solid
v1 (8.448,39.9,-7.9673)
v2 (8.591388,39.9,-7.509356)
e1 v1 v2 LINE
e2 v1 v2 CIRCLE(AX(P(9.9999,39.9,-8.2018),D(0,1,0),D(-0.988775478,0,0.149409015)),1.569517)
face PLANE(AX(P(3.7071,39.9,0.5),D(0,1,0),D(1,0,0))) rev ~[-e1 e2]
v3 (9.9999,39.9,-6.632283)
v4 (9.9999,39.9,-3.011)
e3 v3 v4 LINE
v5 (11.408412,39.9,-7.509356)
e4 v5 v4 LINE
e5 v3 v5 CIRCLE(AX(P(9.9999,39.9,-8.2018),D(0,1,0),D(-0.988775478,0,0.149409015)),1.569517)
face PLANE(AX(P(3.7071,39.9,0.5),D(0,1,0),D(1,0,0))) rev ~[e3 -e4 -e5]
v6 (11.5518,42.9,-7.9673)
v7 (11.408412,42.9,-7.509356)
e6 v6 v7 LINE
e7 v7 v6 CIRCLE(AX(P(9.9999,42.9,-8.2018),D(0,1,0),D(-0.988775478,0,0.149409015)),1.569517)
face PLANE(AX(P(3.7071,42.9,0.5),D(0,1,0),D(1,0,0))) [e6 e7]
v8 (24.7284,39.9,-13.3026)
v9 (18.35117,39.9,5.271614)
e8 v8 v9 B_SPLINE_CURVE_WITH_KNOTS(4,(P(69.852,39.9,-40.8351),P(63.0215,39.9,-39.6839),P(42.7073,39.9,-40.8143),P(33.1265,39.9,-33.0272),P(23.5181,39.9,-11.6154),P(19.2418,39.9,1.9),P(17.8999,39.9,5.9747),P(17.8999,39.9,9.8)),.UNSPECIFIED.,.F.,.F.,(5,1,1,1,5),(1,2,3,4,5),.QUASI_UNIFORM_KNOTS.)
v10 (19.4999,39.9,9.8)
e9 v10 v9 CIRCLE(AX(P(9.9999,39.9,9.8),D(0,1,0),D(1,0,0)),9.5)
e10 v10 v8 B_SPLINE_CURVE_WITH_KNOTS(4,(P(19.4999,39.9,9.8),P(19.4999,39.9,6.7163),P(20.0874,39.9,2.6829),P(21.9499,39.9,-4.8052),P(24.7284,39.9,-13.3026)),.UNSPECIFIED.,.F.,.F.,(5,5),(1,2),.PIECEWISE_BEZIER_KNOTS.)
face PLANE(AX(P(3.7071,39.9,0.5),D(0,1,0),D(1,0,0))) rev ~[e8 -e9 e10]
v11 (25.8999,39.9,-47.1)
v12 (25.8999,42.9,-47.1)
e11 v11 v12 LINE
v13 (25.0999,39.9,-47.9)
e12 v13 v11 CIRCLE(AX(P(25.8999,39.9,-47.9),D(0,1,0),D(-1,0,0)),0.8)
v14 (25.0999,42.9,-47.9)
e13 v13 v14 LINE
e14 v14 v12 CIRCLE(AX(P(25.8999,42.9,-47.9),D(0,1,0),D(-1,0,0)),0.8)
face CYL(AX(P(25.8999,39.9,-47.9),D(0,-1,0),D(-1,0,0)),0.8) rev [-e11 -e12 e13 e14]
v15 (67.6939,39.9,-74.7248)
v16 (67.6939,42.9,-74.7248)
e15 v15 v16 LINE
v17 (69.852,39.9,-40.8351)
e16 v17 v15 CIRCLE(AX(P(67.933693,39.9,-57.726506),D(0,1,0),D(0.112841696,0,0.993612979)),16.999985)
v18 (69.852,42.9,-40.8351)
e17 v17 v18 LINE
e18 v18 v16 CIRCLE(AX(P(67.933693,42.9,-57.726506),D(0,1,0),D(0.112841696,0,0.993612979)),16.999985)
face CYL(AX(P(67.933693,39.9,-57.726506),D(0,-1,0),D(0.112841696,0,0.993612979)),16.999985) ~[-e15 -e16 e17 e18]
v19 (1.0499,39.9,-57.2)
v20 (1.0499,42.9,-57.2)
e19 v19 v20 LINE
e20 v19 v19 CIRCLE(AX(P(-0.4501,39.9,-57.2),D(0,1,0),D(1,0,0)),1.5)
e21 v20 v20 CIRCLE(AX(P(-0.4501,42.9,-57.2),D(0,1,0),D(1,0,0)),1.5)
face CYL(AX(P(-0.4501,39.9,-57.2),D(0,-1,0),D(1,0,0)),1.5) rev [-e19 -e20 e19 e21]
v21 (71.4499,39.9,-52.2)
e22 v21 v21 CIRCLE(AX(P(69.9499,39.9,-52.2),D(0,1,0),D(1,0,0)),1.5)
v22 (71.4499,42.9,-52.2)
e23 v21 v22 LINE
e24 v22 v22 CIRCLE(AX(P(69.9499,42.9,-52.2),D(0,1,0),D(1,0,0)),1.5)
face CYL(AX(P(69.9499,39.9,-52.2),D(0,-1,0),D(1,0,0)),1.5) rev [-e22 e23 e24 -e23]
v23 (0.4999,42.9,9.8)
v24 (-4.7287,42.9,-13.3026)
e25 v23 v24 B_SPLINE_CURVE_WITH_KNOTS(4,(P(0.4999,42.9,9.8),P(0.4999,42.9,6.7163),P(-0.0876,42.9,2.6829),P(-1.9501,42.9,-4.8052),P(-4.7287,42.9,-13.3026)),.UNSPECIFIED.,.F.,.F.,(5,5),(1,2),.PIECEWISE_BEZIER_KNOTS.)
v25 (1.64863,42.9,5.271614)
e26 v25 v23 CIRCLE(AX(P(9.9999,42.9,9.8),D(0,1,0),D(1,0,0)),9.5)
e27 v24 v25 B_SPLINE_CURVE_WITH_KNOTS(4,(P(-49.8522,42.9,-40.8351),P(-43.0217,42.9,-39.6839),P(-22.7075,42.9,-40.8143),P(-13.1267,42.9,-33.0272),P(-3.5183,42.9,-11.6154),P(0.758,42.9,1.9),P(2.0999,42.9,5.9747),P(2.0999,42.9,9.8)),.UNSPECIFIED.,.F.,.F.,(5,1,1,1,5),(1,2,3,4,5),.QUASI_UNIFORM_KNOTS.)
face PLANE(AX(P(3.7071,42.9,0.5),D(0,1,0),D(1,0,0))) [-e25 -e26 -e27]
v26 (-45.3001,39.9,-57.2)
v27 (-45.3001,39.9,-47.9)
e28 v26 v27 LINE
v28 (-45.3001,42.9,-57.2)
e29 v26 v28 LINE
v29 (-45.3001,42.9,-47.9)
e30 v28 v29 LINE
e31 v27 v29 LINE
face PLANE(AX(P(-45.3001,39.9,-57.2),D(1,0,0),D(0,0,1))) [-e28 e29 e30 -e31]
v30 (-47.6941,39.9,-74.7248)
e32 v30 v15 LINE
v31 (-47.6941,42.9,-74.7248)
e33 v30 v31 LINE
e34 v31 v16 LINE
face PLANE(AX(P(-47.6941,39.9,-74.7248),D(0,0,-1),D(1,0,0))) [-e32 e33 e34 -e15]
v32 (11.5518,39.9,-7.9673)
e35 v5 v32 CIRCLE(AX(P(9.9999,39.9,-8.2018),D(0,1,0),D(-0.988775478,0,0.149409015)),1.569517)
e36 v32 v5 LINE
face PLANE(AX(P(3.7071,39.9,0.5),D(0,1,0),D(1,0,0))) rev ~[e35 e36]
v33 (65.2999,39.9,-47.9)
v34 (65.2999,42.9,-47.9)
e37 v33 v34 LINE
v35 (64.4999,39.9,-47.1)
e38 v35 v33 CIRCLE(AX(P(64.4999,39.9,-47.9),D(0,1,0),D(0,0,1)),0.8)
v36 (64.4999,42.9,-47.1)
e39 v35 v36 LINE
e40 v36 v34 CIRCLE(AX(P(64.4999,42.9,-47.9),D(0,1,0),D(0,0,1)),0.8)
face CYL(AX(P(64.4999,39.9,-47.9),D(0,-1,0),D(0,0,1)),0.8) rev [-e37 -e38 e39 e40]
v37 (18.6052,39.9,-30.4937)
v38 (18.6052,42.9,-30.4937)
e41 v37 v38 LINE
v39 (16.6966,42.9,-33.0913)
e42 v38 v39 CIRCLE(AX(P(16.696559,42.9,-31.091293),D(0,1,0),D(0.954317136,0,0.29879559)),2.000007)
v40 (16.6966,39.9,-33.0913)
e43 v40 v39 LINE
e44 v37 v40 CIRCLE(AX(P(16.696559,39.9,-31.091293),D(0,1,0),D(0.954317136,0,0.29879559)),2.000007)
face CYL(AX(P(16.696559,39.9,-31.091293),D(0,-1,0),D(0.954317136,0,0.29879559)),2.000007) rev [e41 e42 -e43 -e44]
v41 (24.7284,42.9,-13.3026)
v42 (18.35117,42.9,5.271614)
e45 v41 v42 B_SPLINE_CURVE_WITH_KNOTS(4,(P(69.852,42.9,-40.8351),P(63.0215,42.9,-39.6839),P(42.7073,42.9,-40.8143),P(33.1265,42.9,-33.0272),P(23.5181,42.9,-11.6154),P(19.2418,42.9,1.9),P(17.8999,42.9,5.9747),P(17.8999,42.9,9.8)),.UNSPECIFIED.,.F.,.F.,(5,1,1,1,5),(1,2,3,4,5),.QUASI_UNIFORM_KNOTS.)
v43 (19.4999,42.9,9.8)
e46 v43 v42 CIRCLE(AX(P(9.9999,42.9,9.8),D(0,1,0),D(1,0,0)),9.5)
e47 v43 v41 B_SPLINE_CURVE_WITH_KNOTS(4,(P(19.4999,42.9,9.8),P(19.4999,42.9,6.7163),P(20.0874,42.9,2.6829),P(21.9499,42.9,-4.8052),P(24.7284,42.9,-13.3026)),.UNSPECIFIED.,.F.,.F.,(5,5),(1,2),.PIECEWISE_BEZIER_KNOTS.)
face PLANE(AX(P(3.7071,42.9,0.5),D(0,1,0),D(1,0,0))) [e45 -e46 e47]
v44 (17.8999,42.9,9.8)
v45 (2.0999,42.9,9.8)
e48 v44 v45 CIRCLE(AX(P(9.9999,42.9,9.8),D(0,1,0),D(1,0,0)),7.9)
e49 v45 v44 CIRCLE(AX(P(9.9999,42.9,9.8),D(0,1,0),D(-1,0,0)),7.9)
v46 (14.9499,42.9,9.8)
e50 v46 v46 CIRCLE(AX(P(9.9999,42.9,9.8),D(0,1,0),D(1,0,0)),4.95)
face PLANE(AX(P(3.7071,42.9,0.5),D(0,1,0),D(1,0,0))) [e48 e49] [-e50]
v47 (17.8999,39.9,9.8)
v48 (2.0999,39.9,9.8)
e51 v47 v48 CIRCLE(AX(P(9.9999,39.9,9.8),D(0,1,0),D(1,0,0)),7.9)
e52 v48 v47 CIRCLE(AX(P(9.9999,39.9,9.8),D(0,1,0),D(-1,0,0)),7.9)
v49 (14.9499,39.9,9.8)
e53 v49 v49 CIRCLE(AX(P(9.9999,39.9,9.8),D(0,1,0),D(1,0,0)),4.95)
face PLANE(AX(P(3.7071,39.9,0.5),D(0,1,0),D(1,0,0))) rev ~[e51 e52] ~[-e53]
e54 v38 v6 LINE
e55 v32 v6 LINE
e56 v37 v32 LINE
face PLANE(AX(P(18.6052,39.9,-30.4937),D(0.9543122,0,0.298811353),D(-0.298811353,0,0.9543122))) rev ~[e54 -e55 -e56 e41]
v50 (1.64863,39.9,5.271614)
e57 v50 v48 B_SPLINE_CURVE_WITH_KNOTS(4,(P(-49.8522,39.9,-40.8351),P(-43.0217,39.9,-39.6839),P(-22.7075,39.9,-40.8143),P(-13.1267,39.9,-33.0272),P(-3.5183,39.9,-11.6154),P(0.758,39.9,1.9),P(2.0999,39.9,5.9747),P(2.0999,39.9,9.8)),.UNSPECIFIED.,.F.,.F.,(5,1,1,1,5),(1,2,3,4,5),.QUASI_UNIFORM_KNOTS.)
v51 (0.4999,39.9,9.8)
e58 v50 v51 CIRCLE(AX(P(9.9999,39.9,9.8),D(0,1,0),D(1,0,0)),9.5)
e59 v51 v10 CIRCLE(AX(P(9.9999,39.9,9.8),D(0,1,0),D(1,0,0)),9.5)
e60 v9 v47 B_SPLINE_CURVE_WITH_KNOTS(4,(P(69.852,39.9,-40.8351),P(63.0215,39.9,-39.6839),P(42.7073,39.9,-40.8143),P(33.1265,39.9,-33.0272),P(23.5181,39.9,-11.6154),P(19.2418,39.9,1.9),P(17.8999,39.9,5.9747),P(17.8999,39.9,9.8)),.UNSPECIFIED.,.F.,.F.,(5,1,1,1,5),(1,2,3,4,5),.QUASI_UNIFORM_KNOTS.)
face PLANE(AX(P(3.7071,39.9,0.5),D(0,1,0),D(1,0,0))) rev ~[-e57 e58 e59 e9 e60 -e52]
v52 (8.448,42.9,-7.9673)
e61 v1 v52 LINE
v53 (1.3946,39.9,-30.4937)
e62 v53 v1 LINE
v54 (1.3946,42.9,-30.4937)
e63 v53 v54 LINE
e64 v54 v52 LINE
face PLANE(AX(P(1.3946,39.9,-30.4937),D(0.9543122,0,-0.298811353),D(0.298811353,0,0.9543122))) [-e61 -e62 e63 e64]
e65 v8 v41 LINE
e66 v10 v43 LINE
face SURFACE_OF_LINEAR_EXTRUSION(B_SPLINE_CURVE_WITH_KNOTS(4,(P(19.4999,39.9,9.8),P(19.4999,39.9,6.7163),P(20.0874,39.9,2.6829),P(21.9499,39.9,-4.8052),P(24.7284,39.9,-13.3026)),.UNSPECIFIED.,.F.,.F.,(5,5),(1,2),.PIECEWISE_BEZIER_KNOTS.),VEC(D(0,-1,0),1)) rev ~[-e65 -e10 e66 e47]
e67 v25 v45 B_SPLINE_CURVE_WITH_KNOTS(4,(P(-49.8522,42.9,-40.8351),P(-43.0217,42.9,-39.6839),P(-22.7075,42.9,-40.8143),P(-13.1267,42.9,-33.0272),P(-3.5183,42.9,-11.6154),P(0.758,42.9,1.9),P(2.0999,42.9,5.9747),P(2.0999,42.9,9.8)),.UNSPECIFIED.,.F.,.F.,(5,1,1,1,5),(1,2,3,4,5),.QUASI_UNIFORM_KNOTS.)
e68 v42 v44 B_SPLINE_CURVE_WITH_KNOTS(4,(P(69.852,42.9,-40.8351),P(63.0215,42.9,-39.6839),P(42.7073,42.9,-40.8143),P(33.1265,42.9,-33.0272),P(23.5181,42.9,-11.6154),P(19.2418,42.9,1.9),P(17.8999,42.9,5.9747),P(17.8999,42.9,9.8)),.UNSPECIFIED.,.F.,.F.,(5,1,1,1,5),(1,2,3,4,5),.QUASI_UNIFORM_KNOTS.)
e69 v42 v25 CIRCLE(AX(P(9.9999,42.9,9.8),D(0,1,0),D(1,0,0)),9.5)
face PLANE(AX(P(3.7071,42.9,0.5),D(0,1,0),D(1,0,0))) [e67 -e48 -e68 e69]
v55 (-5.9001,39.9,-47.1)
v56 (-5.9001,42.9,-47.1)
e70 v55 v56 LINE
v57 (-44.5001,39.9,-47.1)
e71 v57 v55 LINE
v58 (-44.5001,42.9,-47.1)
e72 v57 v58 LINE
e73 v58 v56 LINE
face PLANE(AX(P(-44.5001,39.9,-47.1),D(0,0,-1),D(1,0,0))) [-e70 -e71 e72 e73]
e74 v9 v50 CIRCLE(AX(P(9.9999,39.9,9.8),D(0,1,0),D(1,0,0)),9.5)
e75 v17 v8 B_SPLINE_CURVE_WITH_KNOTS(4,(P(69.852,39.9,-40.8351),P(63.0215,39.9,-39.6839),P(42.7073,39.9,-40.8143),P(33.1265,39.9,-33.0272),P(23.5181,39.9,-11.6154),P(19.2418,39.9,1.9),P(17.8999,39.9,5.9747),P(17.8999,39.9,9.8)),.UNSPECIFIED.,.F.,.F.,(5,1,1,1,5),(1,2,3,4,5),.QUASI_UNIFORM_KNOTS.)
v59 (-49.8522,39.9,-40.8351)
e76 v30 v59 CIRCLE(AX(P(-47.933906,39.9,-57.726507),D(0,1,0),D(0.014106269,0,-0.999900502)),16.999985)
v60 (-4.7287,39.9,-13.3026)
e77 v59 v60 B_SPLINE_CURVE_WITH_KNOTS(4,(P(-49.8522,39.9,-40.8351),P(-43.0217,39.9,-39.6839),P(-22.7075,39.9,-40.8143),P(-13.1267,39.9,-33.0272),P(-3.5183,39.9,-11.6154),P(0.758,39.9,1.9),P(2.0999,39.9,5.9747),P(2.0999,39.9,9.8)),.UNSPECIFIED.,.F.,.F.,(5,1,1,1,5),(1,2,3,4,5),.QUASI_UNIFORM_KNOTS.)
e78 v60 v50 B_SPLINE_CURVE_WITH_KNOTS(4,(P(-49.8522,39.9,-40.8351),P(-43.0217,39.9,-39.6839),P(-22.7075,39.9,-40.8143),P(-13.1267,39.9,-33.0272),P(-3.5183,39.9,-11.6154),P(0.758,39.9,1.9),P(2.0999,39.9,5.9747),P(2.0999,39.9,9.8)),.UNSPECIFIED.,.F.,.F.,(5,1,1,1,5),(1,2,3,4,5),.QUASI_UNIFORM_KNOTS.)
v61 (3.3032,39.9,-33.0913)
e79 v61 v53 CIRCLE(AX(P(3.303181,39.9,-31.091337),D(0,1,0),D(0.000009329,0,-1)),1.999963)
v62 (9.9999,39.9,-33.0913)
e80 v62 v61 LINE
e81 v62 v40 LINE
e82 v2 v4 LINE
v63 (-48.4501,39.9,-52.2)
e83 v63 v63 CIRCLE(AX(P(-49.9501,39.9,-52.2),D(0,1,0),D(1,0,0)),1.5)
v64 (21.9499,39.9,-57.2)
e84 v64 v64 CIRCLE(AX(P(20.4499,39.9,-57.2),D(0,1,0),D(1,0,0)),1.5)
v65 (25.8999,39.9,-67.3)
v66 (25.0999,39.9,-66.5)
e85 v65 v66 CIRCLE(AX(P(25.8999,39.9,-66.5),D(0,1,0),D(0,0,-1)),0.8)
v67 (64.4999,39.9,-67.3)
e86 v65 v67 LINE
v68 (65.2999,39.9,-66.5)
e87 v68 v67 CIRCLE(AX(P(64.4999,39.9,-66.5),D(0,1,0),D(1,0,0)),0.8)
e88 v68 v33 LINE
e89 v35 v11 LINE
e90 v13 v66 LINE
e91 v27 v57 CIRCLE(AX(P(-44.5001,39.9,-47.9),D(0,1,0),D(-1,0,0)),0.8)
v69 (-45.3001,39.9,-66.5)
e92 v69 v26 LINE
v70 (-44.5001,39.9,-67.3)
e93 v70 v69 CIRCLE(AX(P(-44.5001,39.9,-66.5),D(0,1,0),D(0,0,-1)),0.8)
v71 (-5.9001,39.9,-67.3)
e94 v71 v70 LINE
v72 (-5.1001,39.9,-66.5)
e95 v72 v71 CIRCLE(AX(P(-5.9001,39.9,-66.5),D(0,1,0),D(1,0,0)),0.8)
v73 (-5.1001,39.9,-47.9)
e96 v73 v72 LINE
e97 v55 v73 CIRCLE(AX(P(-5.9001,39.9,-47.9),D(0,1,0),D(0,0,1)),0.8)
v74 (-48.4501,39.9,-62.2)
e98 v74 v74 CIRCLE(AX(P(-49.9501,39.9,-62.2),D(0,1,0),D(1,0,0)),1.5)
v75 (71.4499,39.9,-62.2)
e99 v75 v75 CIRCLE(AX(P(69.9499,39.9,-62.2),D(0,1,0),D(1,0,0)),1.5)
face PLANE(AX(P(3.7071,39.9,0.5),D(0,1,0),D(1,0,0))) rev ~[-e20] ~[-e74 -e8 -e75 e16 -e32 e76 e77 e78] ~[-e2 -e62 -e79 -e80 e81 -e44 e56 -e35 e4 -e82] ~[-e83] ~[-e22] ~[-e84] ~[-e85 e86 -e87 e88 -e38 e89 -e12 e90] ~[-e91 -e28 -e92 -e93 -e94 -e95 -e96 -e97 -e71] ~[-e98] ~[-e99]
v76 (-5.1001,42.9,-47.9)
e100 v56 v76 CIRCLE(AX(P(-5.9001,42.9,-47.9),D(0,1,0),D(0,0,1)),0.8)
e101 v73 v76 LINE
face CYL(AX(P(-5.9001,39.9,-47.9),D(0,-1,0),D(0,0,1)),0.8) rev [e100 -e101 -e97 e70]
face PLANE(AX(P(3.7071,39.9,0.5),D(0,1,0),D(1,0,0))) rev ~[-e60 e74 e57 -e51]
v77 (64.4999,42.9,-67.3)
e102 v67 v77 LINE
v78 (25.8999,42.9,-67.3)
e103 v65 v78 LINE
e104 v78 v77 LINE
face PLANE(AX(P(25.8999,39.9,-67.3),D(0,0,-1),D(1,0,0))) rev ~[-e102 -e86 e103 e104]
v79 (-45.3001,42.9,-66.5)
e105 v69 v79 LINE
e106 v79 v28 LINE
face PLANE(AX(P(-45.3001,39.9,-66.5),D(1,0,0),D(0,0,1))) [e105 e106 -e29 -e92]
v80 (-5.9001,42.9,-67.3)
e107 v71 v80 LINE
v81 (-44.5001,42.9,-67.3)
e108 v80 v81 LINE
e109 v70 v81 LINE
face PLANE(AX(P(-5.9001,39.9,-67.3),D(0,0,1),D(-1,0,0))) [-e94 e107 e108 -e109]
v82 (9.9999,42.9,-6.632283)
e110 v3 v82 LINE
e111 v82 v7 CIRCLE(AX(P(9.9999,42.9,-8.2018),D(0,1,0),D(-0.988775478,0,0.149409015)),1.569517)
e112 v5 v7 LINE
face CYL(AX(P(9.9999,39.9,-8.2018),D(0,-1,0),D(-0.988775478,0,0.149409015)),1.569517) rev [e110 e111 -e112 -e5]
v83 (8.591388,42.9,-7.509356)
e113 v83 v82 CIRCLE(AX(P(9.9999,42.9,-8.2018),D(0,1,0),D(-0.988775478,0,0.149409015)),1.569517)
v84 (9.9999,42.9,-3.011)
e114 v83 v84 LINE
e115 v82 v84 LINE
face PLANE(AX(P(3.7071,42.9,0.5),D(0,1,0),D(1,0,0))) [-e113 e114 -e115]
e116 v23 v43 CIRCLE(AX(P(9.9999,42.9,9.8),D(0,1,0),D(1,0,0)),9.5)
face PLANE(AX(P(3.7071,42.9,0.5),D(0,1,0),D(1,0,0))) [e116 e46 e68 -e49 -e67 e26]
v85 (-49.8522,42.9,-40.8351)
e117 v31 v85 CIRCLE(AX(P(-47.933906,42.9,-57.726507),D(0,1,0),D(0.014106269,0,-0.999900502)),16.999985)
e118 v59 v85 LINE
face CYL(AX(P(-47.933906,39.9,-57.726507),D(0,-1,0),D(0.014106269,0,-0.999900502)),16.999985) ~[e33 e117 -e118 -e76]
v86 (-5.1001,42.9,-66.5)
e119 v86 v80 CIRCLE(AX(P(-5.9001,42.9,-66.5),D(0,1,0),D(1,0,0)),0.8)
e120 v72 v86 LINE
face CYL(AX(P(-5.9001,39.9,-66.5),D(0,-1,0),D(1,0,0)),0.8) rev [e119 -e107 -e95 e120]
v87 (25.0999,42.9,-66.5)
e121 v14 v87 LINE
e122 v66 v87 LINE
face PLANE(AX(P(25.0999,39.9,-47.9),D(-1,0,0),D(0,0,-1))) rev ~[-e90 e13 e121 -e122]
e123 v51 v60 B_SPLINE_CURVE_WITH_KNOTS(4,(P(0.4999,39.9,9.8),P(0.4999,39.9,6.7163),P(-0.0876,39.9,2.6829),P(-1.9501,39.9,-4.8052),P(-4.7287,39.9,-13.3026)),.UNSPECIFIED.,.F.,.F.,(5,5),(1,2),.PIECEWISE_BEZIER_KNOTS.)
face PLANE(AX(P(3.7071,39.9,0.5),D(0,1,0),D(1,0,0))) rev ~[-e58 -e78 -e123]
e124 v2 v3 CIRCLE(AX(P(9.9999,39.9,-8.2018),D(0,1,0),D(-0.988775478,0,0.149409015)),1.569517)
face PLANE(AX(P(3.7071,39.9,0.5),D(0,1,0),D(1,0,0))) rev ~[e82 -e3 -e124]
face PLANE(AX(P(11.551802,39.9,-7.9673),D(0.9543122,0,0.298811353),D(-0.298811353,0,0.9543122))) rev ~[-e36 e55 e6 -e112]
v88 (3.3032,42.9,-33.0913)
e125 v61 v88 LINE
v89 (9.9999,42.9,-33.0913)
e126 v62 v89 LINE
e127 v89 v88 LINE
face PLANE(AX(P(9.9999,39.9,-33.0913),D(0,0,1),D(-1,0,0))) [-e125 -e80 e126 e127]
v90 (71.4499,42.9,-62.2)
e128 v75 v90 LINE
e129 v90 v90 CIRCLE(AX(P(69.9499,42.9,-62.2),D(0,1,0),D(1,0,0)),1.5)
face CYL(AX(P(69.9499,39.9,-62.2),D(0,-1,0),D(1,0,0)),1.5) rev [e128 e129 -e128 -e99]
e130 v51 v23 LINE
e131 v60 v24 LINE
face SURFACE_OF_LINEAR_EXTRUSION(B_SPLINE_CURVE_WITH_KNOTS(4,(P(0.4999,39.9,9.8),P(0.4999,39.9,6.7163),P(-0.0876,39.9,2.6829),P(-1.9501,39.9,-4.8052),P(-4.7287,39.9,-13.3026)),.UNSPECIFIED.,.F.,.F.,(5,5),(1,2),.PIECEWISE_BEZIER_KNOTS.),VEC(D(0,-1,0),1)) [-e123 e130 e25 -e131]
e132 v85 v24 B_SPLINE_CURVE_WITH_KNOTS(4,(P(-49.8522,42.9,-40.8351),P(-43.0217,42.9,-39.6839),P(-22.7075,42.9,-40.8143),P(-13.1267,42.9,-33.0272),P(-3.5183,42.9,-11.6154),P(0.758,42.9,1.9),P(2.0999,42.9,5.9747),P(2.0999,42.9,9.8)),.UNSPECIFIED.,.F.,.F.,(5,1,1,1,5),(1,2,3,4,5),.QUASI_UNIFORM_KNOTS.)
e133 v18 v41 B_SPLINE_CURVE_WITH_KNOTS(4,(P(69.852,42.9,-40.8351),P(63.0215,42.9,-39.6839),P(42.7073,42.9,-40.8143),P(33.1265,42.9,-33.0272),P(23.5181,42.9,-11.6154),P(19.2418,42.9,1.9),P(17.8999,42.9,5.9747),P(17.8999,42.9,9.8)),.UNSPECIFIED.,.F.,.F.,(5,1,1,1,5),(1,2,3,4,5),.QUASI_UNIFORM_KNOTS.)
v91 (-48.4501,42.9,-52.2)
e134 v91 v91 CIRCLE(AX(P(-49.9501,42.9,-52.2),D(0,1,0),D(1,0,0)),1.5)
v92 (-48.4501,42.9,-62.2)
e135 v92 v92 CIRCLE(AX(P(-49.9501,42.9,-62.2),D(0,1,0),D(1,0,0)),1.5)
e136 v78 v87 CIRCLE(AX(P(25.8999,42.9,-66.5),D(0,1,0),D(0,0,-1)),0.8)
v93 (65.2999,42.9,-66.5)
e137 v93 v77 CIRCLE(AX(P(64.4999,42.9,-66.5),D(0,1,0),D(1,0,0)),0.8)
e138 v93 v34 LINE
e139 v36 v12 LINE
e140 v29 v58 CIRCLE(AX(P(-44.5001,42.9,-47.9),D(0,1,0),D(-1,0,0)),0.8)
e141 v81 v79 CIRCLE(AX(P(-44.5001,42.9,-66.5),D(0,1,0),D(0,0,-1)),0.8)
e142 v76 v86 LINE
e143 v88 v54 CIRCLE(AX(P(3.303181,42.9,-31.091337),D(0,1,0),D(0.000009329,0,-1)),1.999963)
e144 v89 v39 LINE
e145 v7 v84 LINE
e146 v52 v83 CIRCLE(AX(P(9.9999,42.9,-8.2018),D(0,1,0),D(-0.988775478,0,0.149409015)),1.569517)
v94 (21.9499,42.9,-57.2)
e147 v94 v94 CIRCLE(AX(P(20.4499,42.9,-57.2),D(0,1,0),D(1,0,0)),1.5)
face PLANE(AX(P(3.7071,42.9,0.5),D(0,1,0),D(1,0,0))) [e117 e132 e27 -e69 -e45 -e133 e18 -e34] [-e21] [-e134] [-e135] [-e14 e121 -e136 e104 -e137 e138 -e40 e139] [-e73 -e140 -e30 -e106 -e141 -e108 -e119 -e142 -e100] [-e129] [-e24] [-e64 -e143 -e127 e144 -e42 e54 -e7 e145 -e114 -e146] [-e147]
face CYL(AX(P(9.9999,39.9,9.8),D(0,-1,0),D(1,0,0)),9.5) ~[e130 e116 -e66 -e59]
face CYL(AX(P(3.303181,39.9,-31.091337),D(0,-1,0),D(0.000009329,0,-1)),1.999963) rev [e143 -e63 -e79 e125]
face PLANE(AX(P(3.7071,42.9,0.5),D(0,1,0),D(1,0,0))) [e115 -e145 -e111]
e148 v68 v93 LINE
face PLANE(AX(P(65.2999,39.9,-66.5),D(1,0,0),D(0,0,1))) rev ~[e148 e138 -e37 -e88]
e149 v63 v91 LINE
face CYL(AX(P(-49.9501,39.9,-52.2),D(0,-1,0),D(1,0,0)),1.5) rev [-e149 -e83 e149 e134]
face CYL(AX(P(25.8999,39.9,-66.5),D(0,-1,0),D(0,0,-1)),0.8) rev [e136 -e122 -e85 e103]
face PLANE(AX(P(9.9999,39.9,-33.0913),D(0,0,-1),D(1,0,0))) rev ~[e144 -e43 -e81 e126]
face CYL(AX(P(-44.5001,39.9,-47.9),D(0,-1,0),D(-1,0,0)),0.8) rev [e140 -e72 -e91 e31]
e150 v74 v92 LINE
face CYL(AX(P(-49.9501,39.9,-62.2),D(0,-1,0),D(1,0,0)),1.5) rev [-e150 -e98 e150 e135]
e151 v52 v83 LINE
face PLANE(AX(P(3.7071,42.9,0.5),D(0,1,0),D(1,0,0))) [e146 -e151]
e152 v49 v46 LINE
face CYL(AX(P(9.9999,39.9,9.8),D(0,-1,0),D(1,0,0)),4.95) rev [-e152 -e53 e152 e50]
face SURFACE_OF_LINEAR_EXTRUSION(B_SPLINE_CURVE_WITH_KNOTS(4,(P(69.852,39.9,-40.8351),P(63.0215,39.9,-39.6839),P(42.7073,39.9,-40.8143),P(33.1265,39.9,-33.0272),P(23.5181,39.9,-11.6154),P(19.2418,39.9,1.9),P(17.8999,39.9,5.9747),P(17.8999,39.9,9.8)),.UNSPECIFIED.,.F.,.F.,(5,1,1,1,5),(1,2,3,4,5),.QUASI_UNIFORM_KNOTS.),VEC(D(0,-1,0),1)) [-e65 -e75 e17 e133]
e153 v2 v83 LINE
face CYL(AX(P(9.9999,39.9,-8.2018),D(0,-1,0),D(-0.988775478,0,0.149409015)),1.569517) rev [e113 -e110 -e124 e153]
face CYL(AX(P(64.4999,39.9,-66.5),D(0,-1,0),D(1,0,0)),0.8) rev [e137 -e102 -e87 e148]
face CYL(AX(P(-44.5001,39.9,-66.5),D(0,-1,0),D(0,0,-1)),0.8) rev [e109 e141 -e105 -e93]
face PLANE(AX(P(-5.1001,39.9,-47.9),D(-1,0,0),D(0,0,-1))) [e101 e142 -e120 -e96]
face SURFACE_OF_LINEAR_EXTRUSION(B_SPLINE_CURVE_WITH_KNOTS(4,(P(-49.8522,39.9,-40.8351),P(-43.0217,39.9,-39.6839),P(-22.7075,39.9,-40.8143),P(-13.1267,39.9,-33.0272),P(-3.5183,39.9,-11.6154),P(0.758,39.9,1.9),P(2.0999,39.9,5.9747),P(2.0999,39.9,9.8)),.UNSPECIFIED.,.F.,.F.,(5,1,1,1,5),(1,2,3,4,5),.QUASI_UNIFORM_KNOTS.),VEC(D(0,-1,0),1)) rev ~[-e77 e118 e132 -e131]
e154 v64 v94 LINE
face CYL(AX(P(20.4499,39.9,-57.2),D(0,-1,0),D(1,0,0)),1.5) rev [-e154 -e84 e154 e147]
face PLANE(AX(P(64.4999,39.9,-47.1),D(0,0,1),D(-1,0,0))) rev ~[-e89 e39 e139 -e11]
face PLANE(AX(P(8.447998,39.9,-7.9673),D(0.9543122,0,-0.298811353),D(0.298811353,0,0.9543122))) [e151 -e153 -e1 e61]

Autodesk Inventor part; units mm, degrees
ref_plane "YZ Plane" through (0, 0, 0) normal (1, 0, 0) x (0, 1, 0)
ref_plane "XZ Plane" through (0, 0, 0) normal (0, 1, 0) x (-1, 0, 0)
ref_plane "Work Plane7" through (3.7071, 39.9, 0.5) normal (0, 1, 0) x (1, 0, 0)
sketch "Sketch4" plane through (3.7071, 39.9, 0.5) normal (0, 1, 0) x (1, 0, 0)
  circle A0 centre (6.2928, -9.3) radius 2.9
  circle A1 centre (6.2928, -9.3) radius 2.65
  line L0 (6.2928, -9.3) -> (6.2928, -8.1563)
  circle A2 centre (6.2928, -9.3) radius 1.5
  line L1 (5.9607, -6.6709) -> (6.3303, -6.4003)
  line L2 (6.6249, -6.6709) -> (6.3303, -6.4003)
  line L3 (5.3173, -6.8361) -> (5.608, -6.482)
  line L4 (5.9607, -6.6709) -> (5.608, -6.482)
  line L5 (4.7352, -7.1561) -> (4.9287, -6.7409)
  line L6 (5.3173, -6.8361) -> (4.9287, -6.7409)
  line L7 (4.2509, -7.6109) -> (4.3351, -7.1605)
  line L8 (4.7352, -7.1561) -> (4.3351, -7.1605)
  line L9 (3.895, -8.1717) -> (3.8646, -7.7146)
  line L10 (4.2509, -7.6109) -> (3.8646, -7.7146)
  line L11 (3.6897, -8.8035) -> (3.5466, -8.3682)
  line L12 (3.895, -8.1717) -> (3.5466, -8.3682)
  line L13 (3.648, -9.4664) -> (3.4011, -9.0805)
  line L14 (3.6897, -8.8035) -> (3.4011, -9.0805)
  line L15 (3.7725, -10.1189) -> (3.4374, -9.8065)
  line L16 (3.648, -9.4664) -> (3.4374, -9.8065)
  line L17 (4.0553, -10.72) -> (3.653, -10.5007)
  line L18 (3.7725, -10.1189) -> (3.653, -10.5007)
  line L19 (4.4787, -11.2318) -> (4.0346, -11.1195)
  line L20 (4.0553, -10.72) -> (4.0346, -11.1195)
  line L21 (5.0161, -11.6222) -> (4.558, -11.6239)
  line L22 (4.4787, -11.2318) -> (4.558, -11.6239)
  line L23 (5.6338, -11.8668) -> (5.1904, -11.9823)
  line L24 (5.0161, -11.6222) -> (5.1904, -11.9823)
  line L25 (6.2928, -11.95) -> (5.8921, -12.1722)
  line L26 (5.6338, -11.8668) -> (5.8921, -12.1722)
  line L27 (6.9518, -11.8668) -> (6.619, -12.1816)
  line L28 (6.2928, -11.95) -> (6.619, -12.1816)
  line L29 (7.5694, -11.6222) -> (7.3254, -12.01)
  line L30 (6.9518, -11.8668) -> (7.3254, -12.01)
  line L31 (8.1068, -11.2318) -> (7.9668, -11.6681)
  line L32 (7.5694, -11.6222) -> (7.9668, -11.6681)
  line L33 (8.5303, -10.72) -> (8.5032, -11.1773)
  line L34 (8.1068, -11.2318) -> (8.5032, -11.1773)
  line L35 (8.8131, -10.1189) -> (8.9006, -10.5687)
  line L36 (8.5303, -10.72) -> (8.9006, -10.5687)
  line L37 (8.9376, -9.4664) -> (9.1341, -9.8803)
  line L38 (8.8131, -10.1189) -> (9.1341, -9.8803)
  line L39 (8.8959, -8.8035) -> (9.1892, -9.1554)
  line L40 (8.9376, -9.4664) -> (9.1892, -9.1554)
  line L41 (8.6906, -8.1717) -> (9.0622, -8.4397)
  line L42 (8.8959, -8.8035) -> (9.0622, -8.4397)
  line L43 (8.3346, -7.6109) -> (8.7613, -7.778)
  line L44 (8.6906, -8.1717) -> (8.7613, -7.778)
  line L45 (7.8504, -7.1561) -> (8.3052, -7.2119)
  line L46 (8.3346, -7.6109) -> (8.3052, -7.2119)
  line L47 (7.2683, -6.8361) -> (7.7227, -6.777)
  line L48 (7.8504, -7.1561) -> (7.7227, -6.777)
  line L49 (6.6249, -6.6709) -> (7.0503, -6.5007)
  line L50 (7.2683, -6.8361) -> (7.0503, -6.5007)
  line L51 (-48.7072, 67.5) -> (-9.1072, 67.5)
  line L52 (-9.1072, 67.5) -> (-9.1072, 47.9)
  line L53 (-9.1072, 47.9) -> (-48.7072, 47.9)
  line L54 (-48.7072, 47.9) -> (-48.7072, 67.5)
  line L55 (-9.6072, 67.8) -> (-48.2072, 67.8)
  line L56 (-49.0072, 67) -> (-49.0072, 48.4)
  line L57 (-48.2072, 47.6) -> (-9.6072, 47.6)
  line L58 (-8.8072, 48.4) -> (-8.8072, 67)
  arc A3 (-48.2072, 67.8) -> (-49.0072, 67) centre (-48.2072, 67) ccw
  arc A4 (-49.0072, 48.4) -> (-48.2072, 47.6) centre (-48.2072, 48.4) ccw
  arc A5 (-8.8072, 67) -> (-9.6072, 67.8) centre (-9.6072, 67) ccw
  arc A6 (-9.6072, 47.6) -> (-8.8072, 48.4) centre (-9.6072, 48.4) ccw
  circle A7 centre (-38.7072, 57.7) radius 2.8043
  line L59 (-28.9072, 67.5) -> (-28.9072, 60.5718)
  arc A8 (-51.4012, 75.2248) -> (-53.5593, 41.3351) centre (-51.641, 58.2265) ccw
  arc A9 (14.1928, -9.3) -> (-1.6072, -9.3) centre (6.2928, -9.3) ccw
  line L60 (-53.5593, 41.3351) -> (-46.7288, 40.1839) construction
  line L61 (-46.7288, 40.1839) -> (-26.4146, 41.3143) construction
  line L62 (-26.4146, 41.3143) -> (-16.8338, 33.5272) construction
  line L63 (-16.8338, 33.5272) -> (-7.2254, 12.1154) construction
  line L64 (-7.2254, 12.1154) -> (-2.9491, -1.4) construction
  line L65 (-2.9491, -1.4) -> (-1.6072, -5.4747) construction
  line L66 (-1.6072, -5.4747) -> (-1.6072, -9.3) construction
  spline S0 degree 4 poles (-53.5593, 41.3351) (-46.7288, 40.1839) (-26.4146, 41.3143) (-16.8338, 33.5272) (-7.2254, 12.1154) (-2.9491, -1.4) (-1.6072, -5.4747) (-1.6072, -9.3) knots 1 1 1 1 1 2 3 4 5 5 5 5 5
  line L67 (61.2928, 67.5) -> (21.6928, 67.5)
  line L68 (21.6928, 67.5) -> (21.6928, 47.9)
  line L69 (21.6928, 47.9) -> (61.2928, 47.9)
  line L70 (61.2928, 47.9) -> (61.2928, 67.5)
  line L71 (22.1928, 67.8) -> (60.7928, 67.8)
  line L72 (61.5928, 67) -> (61.5928, 48.4)
  line L73 (60.7928, 47.6) -> (22.1928, 47.6)
  line L74 (21.3928, 48.4) -> (21.3928, 67)
  arc A10 (61.5928, 67) -> (60.7928, 67.8) centre (60.7928, 67) ccw
  arc A11 (60.7928, 47.6) -> (61.5928, 48.4) centre (60.7928, 48.4) ccw
  arc A12 (22.1928, 67.8) -> (21.3928, 67) centre (22.1928, 67) ccw
  arc A13 (21.3928, 48.4) -> (22.1928, 47.6) centre (22.1928, 48.4) ccw
  circle A14 centre (51.2928, 57.7) radius 2.8043
  line L75 (41.4928, 67.5) -> (41.4928, 60.5718)
  arc A15 (66.1449, 41.3351) -> (63.9868, 75.2248) centre (64.2266, 58.2265) ccw
  line L76 (66.1449, 41.3351) -> (59.3144, 40.1839) construction
  line L77 (59.3144, 40.1839) -> (39.0002, 41.3143) construction
  line L78 (39.0002, 41.3143) -> (29.4194, 33.5272) construction
  line L79 (29.4194, 33.5272) -> (19.811, 12.1154) construction
  line L80 (19.811, 12.1154) -> (15.5347, -1.4) construction
  line L81 (15.5347, -1.4) -> (14.1928, -5.4747) construction
  line L82 (14.1928, -5.4747) -> (14.1928, -9.3) construction
  spline S1 degree 4 poles (66.1449, 41.3351) (59.3144, 40.1839) (39.0002, 41.3143) (29.4194, 33.5272) (19.811, 12.1154) (15.5347, -1.4) (14.1928, -5.4747) (14.1928, -9.3) knots 1 1 1 1 1 2 3 4 5 5 5 5 5
  arc A16 (-1.6072, -9.3) -> (14.1928, -9.3) centre (6.2928, -9.3) ccw
  circle A17 centre (-53.6572, 62.7) radius 1.5
  line L83 (-49.0072, 57.7) -> (-54.6618, 57.7)
  circle A18 centre (-53.6572, 52.7) radius 1.5
  circle A19 centre (66.2428, 62.7) radius 1.5
  circle A20 centre (66.2428, 52.7) radius 1.5
  circle A21 centre (6.2928, -9.3) radius 4.95
  line L84 (-4.1572, 57.7) -> (-3.4323, 57.7)
  circle A22 centre (-4.1572, 57.7) radius 1.5
  circle A23 centre (16.7428, 57.7) radius 1.5
  line L85 (-51.4012, 75.2248) -> (63.9868, 75.2248)
  circle A24 centre (6.2928, -9.3) radius 9.5
  line L86 (-3.2072, -9.3) -> (-3.2072, -6.2163) construction
  line L87 (-3.2072, -6.2163) -> (-3.7947, -2.1829) construction
  line L88 (-3.7947, -2.1829) -> (-5.6572, 5.3052) construction
  line L89 (-5.6572, 5.3052) -> (-8.4358, 13.8026) construction
  spline S2 degree 4 poles (-3.2072, -9.3) (-3.2072, -6.2163) (-3.7947, -2.1829) (-5.6572, 5.3052) (-8.4358, 13.8026) knots 1 1 1 1 1 2 2 2 2 2
  line L90 (15.7928, -9.3) -> (15.7928, -6.2163) construction
  line L91 (15.7928, -6.2163) -> (16.3803, -2.1829) construction
  line L92 (16.3803, -2.1829) -> (18.2428, 5.3052) construction
  line L93 (18.2428, 5.3052) -> (21.0213, 13.8026) construction
  spline S3 degree 4 poles (15.7928, -9.3) (15.7928, -6.2163) (16.3803, -2.1829) (18.2428, 5.3052) (21.0213, 13.8026) knots 1 1 1 1 1 2 2 2 2 2
  line L94 (6.2928, 52.7) -> (6.2928, 2.4423)
  line L95 (6.2928, 33.5913) -> (-0.4039, 33.5913)
  line L96 (-2.3125, 30.9937) -> (6.2928, 3.511)
  arc A25 (-0.4039, 33.5913) -> (-2.3125, 30.9937) centre (-0.4039, 31.5913) ccw
  line L97 (6.2928, 33.5913) -> (12.9895, 33.5913)
  line L98 (14.8981, 30.9937) -> (6.2928, 3.511)
  arc A26 (14.8981, 30.9937) -> (12.9895, 33.5913) centre (12.9895, 31.5913) ccw
  arc A27 (4.7409, 8.4673) -> (7.8447, 8.4673) centre (6.2928, 8.7018) ccw
  point P0 (6.2928, -6.65)
  point P1 (-28.9072, 64.0359)
  point P2 (41.4928, 64.0359)
  point P3 (8.8959, -8.8035)
  point P4 (8.8131, -10.1189)
  point P5 (8.1068, -11.2318)
  point P6 (7.5694, -11.6222)
  point P7 (6.6249, -6.6709)
  point P8 (8.9006, -10.5687)
  point P9 (3.4374, -9.8065)
  point P10 (8.9006, -10.5687)
  point P11 (3.4374, -9.8065)
  point P12 (3.653, -10.5007)
  point P13 (7.9668, -11.6681)
  point P14 (3.653, -10.5007)
  point P15 (7.3254, -12.01)
  point P16 (7.9668, -11.6681)
  point P17 (6.619, -12.1816)
  point P18 (7.3254, -12.01)
  point P19 (6.619, -12.1816)
  point P20 (6.2928, -17.2)
  point P21 (21.0213, 13.8026)
  point P22 (7.7013, 8.0093)
  point P23 (4.8843, 8.0093)
  dimension "d26" = 5.8
  dimension "d105" = 19
  dimension "d31" = 0.25
  dimension "d32" = 3
  dimension "d36" = 360
  dimension "d68" = 45
  dimension "d69" = 67
  dimension "d70" = 39.6
  dimension "d71" = 19.6
  dimension "d72" = 10
  dimension "d73" = 9.8
  dimension "d74" = 0.3
  dimension "d75" = 0.8
  dimension "d78" = 5
  dimension "d91" = 24.75
  dimension "d92" = 3
  dimension "d93" = 5
  dimension "d99" = 9.9
  dimension "d102" = 3
  dimension "d104" = 17
  dimension "d106" = 2
extrude "Extrusion9" add sketch "Sketch4" along normal blind 3 contours L85 A15 S1 A24 S0 A8 | S0 A24 S2 | A24 S1 A9 S0 | S0 A16 S1 A24 | S3 A24 S1 | A9 A16 | A27 L98 L94 | L94 L96 A27 | A27 L96 | L98 A27
equation "\"d73\" = 0.5 * d71"
properties part number "Shoulder_bottom" material "Thermoplastic Resin"
